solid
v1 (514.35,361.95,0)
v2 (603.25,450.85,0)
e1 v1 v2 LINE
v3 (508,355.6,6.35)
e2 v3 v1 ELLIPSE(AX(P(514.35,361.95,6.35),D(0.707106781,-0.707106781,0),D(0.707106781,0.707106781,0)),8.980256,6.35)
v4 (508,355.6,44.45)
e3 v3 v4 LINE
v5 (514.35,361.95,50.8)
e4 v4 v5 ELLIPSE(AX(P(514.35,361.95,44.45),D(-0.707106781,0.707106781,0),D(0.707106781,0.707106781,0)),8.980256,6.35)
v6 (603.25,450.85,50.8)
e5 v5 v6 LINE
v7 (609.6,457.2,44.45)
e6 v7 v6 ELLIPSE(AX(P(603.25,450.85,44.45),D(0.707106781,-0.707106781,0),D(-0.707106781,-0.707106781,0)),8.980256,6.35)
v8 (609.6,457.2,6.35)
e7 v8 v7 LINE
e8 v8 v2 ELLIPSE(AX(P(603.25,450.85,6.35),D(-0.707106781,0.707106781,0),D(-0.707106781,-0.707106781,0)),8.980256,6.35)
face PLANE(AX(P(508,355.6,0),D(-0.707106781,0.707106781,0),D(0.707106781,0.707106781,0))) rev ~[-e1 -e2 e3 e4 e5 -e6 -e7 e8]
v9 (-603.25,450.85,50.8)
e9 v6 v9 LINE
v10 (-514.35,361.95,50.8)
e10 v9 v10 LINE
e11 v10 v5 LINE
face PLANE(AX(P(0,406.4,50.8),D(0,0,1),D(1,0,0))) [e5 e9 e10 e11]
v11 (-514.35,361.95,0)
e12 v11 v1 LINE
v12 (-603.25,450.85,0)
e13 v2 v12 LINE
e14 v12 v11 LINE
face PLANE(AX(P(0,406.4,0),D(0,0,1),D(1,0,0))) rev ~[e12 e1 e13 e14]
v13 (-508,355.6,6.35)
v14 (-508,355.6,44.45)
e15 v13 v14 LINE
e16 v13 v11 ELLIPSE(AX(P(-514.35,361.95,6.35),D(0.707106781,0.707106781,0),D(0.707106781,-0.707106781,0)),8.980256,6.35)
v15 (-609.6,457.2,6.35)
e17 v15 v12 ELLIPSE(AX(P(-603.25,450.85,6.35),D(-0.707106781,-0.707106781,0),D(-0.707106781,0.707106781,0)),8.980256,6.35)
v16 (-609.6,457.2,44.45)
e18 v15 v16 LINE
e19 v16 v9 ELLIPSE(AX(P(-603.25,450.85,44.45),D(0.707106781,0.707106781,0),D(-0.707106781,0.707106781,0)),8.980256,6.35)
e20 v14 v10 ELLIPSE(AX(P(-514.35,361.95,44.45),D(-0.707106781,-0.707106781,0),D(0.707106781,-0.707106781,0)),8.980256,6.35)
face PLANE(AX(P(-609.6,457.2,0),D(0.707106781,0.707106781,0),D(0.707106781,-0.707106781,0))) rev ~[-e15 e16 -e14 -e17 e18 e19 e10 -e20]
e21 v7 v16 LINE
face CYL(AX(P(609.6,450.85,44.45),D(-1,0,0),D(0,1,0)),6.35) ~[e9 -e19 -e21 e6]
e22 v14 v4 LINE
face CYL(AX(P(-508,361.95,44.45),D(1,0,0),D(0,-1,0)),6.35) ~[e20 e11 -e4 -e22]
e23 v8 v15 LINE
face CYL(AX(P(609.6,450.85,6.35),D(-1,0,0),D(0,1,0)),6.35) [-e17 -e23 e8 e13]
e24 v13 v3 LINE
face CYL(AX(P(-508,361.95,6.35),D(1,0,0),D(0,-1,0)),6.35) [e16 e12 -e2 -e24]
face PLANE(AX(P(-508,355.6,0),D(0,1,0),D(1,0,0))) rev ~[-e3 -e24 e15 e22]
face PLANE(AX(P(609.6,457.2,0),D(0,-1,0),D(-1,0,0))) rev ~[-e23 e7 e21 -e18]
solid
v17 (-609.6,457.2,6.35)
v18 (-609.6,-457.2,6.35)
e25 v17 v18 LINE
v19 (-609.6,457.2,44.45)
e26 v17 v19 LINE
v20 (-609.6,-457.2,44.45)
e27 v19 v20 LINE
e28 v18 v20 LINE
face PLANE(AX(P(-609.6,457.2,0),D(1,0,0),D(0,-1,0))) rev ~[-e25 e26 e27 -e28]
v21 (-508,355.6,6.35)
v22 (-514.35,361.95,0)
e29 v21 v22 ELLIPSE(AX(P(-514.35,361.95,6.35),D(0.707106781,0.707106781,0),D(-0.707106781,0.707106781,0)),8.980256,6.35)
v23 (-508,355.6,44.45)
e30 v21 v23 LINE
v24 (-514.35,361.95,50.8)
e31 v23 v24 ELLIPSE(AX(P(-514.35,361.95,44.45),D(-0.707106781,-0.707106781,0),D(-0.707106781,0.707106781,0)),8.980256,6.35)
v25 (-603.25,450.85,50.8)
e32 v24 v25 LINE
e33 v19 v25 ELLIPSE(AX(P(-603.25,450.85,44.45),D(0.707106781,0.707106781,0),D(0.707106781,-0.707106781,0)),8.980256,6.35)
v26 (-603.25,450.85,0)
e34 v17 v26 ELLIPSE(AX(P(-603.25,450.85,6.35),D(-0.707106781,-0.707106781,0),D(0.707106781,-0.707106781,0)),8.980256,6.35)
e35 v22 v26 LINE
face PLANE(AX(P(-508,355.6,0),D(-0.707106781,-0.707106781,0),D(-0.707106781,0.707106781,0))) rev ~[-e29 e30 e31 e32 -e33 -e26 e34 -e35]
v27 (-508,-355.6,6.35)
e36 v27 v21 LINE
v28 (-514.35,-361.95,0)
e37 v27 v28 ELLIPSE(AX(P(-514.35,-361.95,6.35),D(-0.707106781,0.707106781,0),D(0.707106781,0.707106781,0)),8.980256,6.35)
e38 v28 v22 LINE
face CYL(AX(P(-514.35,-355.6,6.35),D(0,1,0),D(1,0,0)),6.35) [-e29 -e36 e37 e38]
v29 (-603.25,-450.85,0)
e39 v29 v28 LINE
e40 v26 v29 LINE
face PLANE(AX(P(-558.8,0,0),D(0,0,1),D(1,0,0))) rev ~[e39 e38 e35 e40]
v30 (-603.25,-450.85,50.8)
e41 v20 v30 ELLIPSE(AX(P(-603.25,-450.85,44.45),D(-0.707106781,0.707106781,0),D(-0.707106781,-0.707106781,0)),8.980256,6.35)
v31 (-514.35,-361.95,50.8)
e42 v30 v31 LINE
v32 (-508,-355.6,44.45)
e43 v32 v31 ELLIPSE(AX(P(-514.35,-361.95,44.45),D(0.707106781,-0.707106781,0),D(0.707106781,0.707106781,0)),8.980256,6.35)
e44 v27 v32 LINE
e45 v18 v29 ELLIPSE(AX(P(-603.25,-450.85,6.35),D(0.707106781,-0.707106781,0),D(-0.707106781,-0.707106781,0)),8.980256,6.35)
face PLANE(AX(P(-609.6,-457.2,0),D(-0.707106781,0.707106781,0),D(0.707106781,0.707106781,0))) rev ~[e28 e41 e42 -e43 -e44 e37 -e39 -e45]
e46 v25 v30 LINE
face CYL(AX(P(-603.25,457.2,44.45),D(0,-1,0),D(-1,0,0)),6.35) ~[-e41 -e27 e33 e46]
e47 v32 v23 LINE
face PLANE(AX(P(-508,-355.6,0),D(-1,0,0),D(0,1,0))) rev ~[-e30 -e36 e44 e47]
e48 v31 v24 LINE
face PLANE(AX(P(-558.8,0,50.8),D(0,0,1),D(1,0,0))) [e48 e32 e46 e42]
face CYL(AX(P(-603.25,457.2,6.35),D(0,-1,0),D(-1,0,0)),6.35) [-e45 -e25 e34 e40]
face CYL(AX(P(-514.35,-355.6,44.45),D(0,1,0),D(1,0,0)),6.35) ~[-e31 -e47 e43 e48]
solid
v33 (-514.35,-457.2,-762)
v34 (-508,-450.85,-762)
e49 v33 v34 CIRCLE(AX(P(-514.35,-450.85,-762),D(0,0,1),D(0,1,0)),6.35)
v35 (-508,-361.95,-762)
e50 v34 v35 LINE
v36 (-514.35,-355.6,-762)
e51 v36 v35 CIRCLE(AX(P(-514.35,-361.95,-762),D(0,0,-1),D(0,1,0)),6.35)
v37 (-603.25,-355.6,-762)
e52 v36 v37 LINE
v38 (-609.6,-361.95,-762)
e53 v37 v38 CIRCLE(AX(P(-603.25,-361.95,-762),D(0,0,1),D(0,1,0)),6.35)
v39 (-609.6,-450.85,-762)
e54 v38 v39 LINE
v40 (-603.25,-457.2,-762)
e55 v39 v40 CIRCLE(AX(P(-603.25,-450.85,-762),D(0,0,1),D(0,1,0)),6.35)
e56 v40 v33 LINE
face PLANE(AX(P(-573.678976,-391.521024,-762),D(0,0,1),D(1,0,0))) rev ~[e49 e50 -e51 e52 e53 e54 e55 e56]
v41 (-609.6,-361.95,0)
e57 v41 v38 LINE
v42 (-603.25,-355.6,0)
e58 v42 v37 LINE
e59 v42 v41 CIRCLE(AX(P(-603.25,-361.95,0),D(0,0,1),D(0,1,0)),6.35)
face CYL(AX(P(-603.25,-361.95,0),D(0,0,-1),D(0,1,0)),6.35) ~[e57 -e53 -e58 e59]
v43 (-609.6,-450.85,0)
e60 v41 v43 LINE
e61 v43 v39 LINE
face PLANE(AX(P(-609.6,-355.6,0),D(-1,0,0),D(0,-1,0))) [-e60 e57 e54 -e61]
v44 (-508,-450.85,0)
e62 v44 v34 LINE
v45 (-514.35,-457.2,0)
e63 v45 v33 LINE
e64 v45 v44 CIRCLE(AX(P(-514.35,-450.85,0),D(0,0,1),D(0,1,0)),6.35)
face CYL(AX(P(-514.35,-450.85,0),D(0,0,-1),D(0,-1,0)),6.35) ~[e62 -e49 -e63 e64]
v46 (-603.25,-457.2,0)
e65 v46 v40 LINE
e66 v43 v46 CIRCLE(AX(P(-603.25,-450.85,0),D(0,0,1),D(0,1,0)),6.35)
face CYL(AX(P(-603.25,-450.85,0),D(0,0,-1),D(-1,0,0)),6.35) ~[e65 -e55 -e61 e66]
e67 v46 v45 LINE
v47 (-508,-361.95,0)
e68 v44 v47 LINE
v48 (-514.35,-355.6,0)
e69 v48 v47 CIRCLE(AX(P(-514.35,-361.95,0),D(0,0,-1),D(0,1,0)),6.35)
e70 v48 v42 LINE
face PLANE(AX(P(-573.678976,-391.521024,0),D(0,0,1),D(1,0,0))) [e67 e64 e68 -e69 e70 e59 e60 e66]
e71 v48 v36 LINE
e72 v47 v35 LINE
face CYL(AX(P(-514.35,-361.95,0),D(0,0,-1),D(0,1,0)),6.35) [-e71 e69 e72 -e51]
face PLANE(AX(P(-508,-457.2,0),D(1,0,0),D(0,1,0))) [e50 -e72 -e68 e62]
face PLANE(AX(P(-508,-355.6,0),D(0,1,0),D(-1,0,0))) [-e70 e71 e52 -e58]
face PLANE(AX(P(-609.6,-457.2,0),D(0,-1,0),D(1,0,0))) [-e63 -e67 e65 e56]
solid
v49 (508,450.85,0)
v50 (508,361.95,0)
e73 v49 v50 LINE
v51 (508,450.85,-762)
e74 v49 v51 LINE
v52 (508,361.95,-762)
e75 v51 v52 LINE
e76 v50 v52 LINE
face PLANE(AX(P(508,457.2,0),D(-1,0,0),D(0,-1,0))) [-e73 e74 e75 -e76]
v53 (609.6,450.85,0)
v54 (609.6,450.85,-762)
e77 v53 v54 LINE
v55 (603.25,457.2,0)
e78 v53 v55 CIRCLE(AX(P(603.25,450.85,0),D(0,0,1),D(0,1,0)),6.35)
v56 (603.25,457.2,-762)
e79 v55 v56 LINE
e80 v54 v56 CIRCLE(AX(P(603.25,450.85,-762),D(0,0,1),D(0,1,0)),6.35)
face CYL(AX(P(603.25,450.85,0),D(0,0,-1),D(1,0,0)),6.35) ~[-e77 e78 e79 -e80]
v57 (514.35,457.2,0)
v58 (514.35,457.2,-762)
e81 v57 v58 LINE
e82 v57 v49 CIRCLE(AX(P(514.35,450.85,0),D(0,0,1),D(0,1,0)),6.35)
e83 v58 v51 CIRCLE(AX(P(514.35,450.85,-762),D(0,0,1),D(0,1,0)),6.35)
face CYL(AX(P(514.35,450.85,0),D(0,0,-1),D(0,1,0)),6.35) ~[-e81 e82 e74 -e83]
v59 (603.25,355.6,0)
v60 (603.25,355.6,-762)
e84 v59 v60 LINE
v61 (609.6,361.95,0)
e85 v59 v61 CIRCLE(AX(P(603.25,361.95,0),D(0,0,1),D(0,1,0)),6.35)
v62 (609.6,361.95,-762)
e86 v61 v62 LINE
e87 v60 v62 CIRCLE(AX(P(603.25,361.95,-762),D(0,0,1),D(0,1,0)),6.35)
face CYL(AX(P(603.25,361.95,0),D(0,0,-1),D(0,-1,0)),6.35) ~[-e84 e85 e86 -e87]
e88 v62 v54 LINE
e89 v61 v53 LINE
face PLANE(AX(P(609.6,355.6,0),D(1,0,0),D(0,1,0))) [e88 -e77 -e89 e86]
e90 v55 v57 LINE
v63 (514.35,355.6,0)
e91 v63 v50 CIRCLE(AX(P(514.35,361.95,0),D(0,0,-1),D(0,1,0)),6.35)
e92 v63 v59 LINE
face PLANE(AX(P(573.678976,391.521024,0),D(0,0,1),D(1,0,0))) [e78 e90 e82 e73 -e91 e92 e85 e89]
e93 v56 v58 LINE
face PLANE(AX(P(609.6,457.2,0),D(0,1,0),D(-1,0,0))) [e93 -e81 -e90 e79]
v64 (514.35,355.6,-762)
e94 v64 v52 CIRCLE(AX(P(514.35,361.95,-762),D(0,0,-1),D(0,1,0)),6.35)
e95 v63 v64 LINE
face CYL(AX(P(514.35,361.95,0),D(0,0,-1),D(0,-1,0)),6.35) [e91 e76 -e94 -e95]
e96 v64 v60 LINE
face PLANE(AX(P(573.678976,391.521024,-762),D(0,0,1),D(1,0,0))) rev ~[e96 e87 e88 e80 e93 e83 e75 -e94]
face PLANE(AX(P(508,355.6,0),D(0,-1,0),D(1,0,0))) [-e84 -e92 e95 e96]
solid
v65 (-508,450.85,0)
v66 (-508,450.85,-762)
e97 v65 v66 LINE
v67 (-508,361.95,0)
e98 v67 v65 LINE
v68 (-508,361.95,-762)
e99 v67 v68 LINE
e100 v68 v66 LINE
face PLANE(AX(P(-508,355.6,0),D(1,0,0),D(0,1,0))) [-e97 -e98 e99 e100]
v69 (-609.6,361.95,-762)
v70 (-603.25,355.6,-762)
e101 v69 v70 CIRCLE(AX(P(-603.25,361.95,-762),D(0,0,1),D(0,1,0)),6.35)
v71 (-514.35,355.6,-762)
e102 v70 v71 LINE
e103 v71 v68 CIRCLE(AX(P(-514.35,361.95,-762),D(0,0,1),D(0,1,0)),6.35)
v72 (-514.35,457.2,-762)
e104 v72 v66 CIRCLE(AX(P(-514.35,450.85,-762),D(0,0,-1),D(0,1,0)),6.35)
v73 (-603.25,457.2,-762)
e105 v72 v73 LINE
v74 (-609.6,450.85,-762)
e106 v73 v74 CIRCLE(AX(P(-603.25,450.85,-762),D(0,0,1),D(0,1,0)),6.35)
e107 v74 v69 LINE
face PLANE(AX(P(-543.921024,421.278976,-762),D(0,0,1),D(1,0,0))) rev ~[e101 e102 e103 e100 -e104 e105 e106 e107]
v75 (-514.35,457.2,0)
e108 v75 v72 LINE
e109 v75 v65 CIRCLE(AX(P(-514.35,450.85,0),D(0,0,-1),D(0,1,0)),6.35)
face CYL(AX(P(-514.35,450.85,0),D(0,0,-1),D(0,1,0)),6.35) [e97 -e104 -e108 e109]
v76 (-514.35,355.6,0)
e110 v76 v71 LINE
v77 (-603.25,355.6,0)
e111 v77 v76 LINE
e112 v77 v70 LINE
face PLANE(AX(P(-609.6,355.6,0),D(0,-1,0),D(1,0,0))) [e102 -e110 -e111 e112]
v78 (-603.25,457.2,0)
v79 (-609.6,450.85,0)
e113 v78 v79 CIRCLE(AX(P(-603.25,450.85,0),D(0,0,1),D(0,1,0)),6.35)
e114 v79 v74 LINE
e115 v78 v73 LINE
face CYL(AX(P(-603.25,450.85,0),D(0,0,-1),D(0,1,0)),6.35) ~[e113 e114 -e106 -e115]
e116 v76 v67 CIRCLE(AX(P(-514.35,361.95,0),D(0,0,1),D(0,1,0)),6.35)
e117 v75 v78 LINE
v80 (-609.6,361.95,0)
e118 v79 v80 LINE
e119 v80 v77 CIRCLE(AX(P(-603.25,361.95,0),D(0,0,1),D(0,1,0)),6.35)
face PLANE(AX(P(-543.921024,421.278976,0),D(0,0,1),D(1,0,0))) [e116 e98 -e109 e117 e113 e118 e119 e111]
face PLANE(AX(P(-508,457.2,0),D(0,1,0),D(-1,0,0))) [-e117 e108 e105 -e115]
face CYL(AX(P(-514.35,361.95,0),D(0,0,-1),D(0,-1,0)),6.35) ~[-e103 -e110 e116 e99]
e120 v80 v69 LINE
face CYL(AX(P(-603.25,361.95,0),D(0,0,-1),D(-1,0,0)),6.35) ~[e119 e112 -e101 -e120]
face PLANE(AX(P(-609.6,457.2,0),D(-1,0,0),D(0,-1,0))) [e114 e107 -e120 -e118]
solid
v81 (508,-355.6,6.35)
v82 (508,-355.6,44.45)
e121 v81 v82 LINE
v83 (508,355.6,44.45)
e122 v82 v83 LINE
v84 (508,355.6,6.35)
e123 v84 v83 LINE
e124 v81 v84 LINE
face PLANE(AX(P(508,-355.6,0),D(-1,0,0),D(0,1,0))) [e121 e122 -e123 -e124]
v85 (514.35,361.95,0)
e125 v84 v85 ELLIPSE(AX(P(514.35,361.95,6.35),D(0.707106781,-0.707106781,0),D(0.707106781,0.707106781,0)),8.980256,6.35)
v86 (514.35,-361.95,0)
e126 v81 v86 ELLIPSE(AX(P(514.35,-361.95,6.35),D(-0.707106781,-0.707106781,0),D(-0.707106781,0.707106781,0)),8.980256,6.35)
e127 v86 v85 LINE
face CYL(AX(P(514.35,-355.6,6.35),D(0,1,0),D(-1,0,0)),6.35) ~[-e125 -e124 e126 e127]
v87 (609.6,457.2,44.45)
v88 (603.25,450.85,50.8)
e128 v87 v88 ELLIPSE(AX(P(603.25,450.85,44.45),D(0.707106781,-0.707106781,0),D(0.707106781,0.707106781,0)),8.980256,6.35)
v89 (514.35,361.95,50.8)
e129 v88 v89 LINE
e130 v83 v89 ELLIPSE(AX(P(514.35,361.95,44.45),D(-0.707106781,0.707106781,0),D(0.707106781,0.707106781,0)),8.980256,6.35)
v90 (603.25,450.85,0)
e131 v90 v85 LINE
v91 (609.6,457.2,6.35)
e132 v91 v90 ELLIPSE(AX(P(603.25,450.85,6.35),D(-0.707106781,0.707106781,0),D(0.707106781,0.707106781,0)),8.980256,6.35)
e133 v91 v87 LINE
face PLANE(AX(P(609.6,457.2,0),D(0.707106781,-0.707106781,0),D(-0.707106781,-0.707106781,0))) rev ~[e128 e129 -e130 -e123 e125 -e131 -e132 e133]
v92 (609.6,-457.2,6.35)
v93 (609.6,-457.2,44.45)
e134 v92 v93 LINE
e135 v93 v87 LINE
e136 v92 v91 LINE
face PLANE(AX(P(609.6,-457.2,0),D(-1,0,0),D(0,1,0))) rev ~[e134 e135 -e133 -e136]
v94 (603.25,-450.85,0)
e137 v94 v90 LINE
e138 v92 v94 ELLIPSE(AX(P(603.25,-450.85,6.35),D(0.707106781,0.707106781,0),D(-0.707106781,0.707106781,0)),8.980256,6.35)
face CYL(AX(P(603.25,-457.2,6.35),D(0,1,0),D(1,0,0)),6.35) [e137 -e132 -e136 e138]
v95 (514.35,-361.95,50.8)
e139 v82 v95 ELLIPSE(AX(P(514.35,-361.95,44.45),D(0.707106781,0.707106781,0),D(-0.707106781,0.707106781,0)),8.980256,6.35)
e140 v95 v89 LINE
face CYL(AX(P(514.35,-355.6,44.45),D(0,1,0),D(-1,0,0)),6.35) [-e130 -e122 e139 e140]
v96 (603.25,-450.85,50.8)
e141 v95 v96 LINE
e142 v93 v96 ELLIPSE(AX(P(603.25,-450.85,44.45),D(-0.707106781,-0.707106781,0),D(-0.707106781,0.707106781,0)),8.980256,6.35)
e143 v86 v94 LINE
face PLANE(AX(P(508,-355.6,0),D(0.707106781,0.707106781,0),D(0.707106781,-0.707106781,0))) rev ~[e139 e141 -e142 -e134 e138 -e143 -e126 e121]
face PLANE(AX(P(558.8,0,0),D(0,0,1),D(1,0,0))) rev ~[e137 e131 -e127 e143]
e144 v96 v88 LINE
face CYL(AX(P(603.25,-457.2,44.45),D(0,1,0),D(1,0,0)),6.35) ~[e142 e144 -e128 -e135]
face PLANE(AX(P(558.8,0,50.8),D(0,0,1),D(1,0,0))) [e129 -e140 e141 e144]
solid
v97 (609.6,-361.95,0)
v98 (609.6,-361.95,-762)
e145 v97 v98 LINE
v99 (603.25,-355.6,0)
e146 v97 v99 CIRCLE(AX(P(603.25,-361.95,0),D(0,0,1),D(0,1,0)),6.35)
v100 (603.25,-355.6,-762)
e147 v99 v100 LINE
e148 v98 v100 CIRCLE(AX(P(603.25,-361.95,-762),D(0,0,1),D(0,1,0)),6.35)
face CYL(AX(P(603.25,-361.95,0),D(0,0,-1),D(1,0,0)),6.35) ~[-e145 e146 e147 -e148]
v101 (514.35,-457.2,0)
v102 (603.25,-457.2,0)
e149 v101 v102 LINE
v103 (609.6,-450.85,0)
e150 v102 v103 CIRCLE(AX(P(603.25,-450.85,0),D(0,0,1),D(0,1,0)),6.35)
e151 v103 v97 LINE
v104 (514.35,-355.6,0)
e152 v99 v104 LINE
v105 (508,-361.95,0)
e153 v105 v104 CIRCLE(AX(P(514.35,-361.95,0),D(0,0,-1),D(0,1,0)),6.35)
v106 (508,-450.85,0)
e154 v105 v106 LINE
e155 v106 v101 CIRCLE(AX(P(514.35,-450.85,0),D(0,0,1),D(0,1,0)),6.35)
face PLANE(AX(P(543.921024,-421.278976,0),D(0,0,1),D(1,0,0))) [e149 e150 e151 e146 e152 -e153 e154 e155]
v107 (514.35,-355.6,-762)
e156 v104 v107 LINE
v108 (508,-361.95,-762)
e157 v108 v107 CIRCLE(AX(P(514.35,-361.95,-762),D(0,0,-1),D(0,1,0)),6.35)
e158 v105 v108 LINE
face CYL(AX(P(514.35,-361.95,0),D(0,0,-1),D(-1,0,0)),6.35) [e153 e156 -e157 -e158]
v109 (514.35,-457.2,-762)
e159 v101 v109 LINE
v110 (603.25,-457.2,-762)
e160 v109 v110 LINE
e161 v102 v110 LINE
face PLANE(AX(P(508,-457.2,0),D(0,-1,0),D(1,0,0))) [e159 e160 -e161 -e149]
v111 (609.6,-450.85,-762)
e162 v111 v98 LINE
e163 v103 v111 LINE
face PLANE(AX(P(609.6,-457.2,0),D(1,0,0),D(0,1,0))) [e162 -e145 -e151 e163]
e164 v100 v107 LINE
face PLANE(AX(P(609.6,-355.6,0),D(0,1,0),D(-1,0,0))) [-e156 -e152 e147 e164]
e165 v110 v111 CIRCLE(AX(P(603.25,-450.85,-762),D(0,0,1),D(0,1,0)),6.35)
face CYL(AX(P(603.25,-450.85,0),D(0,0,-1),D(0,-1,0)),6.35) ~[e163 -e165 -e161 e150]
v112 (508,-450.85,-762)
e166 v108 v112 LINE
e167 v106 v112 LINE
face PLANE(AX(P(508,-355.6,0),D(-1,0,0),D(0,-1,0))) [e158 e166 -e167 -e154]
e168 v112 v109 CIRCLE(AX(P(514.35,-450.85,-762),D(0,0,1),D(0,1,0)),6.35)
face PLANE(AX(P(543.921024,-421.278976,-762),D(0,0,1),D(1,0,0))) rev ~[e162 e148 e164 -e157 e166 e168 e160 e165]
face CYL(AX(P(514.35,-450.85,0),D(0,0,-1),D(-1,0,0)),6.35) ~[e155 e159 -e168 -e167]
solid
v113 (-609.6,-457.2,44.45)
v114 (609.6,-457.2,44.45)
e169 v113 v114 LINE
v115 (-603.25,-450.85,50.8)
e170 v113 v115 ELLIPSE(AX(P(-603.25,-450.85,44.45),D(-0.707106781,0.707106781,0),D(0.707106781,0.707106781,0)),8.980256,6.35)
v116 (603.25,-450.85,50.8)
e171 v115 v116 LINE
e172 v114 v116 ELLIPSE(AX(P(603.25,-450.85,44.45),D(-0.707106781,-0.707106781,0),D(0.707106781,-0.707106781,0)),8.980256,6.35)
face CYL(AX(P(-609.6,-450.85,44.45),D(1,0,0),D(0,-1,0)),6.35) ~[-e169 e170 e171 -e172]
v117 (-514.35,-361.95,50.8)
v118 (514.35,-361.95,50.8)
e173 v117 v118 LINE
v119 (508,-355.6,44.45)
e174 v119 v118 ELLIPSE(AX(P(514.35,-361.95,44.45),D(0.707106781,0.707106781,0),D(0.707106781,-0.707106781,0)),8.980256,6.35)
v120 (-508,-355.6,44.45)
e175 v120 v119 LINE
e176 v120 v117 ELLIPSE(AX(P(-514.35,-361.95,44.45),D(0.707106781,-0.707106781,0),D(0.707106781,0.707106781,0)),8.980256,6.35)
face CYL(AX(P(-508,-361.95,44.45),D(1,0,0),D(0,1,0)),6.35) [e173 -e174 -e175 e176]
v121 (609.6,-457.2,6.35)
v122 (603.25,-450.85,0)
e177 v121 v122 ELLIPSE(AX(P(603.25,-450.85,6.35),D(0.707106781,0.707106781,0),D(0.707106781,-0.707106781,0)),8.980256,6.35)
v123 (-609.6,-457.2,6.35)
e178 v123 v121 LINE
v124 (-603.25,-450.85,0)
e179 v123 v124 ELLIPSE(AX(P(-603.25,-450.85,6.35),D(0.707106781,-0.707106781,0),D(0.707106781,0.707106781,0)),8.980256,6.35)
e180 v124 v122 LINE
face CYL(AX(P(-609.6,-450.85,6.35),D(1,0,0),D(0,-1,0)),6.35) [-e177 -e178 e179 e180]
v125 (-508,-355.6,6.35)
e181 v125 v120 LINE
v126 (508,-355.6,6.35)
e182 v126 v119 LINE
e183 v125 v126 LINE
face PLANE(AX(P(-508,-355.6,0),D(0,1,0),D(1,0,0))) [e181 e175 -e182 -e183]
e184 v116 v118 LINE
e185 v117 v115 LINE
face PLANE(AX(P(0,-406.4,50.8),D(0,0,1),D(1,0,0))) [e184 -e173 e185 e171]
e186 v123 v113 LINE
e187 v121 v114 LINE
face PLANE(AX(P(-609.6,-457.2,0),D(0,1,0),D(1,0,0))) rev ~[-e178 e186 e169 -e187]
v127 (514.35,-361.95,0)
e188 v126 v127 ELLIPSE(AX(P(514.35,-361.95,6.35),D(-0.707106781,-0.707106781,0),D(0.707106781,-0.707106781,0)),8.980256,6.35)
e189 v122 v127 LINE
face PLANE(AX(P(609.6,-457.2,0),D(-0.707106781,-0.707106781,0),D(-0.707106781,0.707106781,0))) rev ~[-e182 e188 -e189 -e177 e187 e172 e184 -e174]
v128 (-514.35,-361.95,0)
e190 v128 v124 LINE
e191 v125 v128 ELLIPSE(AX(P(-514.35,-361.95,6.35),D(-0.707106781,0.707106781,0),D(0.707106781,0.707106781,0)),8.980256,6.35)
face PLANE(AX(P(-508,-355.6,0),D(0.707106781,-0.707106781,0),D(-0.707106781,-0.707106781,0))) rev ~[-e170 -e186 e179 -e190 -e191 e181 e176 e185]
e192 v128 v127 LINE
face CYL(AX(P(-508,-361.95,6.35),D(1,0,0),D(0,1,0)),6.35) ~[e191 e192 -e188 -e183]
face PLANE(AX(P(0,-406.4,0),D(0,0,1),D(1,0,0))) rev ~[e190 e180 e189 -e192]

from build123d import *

# Parameters (mm, degrees)
F0_W     = 101.6
F0_H     = 711.2
F1_DEPTH = 50.8
F0_W_2   = 1016
F0_H_2   = 101.6
F2_DEPTH = 50.8
F3_DEPTH = 50.8
F4_DEPTH = 50.8
F5_R     = 6.35
F5_2_R   = 6.35
F5_3_R   = 6.35
F5_4_R   = 6.35
F6_DEPTH = 762
F7_DEPTH = 762
F8_DEPTH = 762
F9_DEPTH = 762
F10_R    = 6.35
F10_2_R  = 6.35
F10_3_R  = 6.35
F10_4_R  = 6.35


with BuildPart() as f1:
    # F0 (on Top) → F1 (new body)
    with BuildSketch(Plane.XY):
        with Locations((-558.8, 0)):
            Rectangle(F0_W, F0_H)
        Polygon((-508, 355.6), (-609.6, 457.2), (-609.6, 355.6), align=None)
        Polygon((-508, -355.6), (-609.6, -355.6), (-609.6, -457.2), align=None)
    extrude(amount=F1_DEPTH)

    # F5#3
    f5_3_edges = [f1.edges().sort_by_distance(p)[0] for p in [
        (-508, 0, 0),
        (-508, 0, 50.8),
        (-609.6, 0, 50.8),
        (-609.6, 0, 0),
    ]]
    fillet(f5_3_edges, radius=F5_3_R)


with BuildPart() as f2:
    # F0 (on Top) → F2 (new body)
    with BuildSketch(Plane.XY):
        with Locations((0, 406.4)):
            Rectangle(F0_W_2, F0_H_2)
        Polygon((-508, 457.2), (-609.6, 457.2), (-508, 355.6), align=None)
        Polygon((609.6, 457.2), (508, 457.2), (508, 355.6), align=None)
    extrude(amount=F2_DEPTH)

    # F5#4
    f5_4_edges = [f2.edges().sort_by_distance(p)[0] for p in [
        (0, 355.6, 50.8),
        (0, 457.2, 50.8),
        (0, 457.2, 0),
        (0, 355.6, 0),
    ]]
    fillet(f5_4_edges, radius=F5_4_R)


with BuildPart() as f3:
    # F0 (on Top) → F3 (new body)
    with BuildSketch(Plane.XY):
        with Locations((558.8, 0)):
            Rectangle(F0_W, F0_H)
        Polygon((609.6, -355.6), (508, -355.6), (609.6, -457.2), align=None)
        Polygon((609.6, 457.2), (508, 355.6), (609.6, 355.6), align=None)
    extrude(amount=F3_DEPTH)

    # F5#2
    f5_2_edges = [f3.edges().sort_by_distance(p)[0] for p in [
        (609.6, 0, 0),
        (609.6, 0, 50.8),
        (508, 0, 50.8),
        (508, 0, 0),
    ]]
    fillet(f5_2_edges, radius=F5_2_R)


with BuildPart() as f4:
    # F0 (on Top) → F4 (new body)
    with BuildSketch(Plane.XY):
        with Locations((0, -406.4)):
            Rectangle(F0_W_2, F0_H_2)
        Polygon((609.6, -457.2), (508, -355.6), (508, -457.2), align=None)
        Polygon((-508, -457.2), (-508, -355.6), (-609.6, -457.2), align=None)
    extrude(amount=F4_DEPTH)

    # F5
    f5_edges = [f4.edges().sort_by_distance(p)[0] for p in [
        (0, -457.2, 50.8),
        (0, -457.2, 0),
        (0, -355.6, 50.8),
        (0, -355.6, 0),
    ]]
    fillet(f5_edges, radius=F5_R)


with BuildPart() as f6:
    # F0 (on Top) → F6 (new body)
    with BuildSketch(Plane.XY):
        Polygon((-508, 457.2), (-609.6, 457.2), (-508, 355.6), align=None)
        Polygon((-508, 355.6), (-609.6, 457.2), (-609.6, 355.6), align=None)
    extrude(amount=-F6_DEPTH)

    # F10#3
    f10_3_edges = [f6.edges().sort_by_distance(p)[0] for p in [
        (-609.6, 355.6, -381),
        (-508, 355.6, -381),
        (-508, 457.2, -381),
        (-609.6, 457.2, -381),
    ]]
    fillet(f10_3_edges, radius=F10_3_R)


with BuildPart() as f7:
    # F0 (on Top) → F7 (new body)
    with BuildSketch(Plane.XY):
        Polygon((-508, -355.6), (-609.6, -355.6), (-609.6, -457.2), align=None)
        Polygon((-508, -457.2), (-508, -355.6), (-609.6, -457.2), align=None)
    extrude(amount=-F7_DEPTH)

    # F10#2
    f10_2_edges = [f7.edges().sort_by_distance(p)[0] for p in [
        (-508, -355.6, -381),
        (-508, -457.2, -381),
        (-609.6, -457.2, -381),
        (-609.6, -355.6, -381),
    ]]
    fillet(f10_2_edges, radius=F10_2_R)


with BuildPart() as f8:
    # F0 (on Top) → F8 (new body)
    with BuildSketch(Plane.XY):
        Polygon((609.6, 457.2), (508, 355.6), (609.6, 355.6), align=None)
        Polygon((609.6, 457.2), (508, 457.2), (508, 355.6), align=None)
    extrude(amount=-F8_DEPTH)

    # F10#4
    f10_4_edges = [f8.edges().sort_by_distance(p)[0] for p in [
        (508, 355.6, -381),
        (609.6, 355.6, -381),
        (609.6, 457.2, -381),
        (508, 457.2, -381),
    ]]
    fillet(f10_4_edges, radius=F10_4_R)


with BuildPart() as f9:
    # F0 (on Top) → F9 (new body)
    with BuildSketch(Plane.XY):
        Polygon((609.6, -457.2), (508, -355.6), (508, -457.2), align=None)
        Polygon((609.6, -355.6), (508, -355.6), (609.6, -457.2), align=None)
    extrude(amount=-F9_DEPTH)

    # F10
    f10_edges = [f9.edges().sort_by_distance(p)[0] for p in [
        (609.6, -457.2, -381),
        (508, -457.2, -381),
        (609.6, -355.6, -381),
        (508, -355.6, -381),
    ]]
    fillet(f10_edges, radius=F10_R)


solid = Compound([f1.part, f2.part, f3.part, f4.part, f6.part, f7.part, f8.part, f9.part])
